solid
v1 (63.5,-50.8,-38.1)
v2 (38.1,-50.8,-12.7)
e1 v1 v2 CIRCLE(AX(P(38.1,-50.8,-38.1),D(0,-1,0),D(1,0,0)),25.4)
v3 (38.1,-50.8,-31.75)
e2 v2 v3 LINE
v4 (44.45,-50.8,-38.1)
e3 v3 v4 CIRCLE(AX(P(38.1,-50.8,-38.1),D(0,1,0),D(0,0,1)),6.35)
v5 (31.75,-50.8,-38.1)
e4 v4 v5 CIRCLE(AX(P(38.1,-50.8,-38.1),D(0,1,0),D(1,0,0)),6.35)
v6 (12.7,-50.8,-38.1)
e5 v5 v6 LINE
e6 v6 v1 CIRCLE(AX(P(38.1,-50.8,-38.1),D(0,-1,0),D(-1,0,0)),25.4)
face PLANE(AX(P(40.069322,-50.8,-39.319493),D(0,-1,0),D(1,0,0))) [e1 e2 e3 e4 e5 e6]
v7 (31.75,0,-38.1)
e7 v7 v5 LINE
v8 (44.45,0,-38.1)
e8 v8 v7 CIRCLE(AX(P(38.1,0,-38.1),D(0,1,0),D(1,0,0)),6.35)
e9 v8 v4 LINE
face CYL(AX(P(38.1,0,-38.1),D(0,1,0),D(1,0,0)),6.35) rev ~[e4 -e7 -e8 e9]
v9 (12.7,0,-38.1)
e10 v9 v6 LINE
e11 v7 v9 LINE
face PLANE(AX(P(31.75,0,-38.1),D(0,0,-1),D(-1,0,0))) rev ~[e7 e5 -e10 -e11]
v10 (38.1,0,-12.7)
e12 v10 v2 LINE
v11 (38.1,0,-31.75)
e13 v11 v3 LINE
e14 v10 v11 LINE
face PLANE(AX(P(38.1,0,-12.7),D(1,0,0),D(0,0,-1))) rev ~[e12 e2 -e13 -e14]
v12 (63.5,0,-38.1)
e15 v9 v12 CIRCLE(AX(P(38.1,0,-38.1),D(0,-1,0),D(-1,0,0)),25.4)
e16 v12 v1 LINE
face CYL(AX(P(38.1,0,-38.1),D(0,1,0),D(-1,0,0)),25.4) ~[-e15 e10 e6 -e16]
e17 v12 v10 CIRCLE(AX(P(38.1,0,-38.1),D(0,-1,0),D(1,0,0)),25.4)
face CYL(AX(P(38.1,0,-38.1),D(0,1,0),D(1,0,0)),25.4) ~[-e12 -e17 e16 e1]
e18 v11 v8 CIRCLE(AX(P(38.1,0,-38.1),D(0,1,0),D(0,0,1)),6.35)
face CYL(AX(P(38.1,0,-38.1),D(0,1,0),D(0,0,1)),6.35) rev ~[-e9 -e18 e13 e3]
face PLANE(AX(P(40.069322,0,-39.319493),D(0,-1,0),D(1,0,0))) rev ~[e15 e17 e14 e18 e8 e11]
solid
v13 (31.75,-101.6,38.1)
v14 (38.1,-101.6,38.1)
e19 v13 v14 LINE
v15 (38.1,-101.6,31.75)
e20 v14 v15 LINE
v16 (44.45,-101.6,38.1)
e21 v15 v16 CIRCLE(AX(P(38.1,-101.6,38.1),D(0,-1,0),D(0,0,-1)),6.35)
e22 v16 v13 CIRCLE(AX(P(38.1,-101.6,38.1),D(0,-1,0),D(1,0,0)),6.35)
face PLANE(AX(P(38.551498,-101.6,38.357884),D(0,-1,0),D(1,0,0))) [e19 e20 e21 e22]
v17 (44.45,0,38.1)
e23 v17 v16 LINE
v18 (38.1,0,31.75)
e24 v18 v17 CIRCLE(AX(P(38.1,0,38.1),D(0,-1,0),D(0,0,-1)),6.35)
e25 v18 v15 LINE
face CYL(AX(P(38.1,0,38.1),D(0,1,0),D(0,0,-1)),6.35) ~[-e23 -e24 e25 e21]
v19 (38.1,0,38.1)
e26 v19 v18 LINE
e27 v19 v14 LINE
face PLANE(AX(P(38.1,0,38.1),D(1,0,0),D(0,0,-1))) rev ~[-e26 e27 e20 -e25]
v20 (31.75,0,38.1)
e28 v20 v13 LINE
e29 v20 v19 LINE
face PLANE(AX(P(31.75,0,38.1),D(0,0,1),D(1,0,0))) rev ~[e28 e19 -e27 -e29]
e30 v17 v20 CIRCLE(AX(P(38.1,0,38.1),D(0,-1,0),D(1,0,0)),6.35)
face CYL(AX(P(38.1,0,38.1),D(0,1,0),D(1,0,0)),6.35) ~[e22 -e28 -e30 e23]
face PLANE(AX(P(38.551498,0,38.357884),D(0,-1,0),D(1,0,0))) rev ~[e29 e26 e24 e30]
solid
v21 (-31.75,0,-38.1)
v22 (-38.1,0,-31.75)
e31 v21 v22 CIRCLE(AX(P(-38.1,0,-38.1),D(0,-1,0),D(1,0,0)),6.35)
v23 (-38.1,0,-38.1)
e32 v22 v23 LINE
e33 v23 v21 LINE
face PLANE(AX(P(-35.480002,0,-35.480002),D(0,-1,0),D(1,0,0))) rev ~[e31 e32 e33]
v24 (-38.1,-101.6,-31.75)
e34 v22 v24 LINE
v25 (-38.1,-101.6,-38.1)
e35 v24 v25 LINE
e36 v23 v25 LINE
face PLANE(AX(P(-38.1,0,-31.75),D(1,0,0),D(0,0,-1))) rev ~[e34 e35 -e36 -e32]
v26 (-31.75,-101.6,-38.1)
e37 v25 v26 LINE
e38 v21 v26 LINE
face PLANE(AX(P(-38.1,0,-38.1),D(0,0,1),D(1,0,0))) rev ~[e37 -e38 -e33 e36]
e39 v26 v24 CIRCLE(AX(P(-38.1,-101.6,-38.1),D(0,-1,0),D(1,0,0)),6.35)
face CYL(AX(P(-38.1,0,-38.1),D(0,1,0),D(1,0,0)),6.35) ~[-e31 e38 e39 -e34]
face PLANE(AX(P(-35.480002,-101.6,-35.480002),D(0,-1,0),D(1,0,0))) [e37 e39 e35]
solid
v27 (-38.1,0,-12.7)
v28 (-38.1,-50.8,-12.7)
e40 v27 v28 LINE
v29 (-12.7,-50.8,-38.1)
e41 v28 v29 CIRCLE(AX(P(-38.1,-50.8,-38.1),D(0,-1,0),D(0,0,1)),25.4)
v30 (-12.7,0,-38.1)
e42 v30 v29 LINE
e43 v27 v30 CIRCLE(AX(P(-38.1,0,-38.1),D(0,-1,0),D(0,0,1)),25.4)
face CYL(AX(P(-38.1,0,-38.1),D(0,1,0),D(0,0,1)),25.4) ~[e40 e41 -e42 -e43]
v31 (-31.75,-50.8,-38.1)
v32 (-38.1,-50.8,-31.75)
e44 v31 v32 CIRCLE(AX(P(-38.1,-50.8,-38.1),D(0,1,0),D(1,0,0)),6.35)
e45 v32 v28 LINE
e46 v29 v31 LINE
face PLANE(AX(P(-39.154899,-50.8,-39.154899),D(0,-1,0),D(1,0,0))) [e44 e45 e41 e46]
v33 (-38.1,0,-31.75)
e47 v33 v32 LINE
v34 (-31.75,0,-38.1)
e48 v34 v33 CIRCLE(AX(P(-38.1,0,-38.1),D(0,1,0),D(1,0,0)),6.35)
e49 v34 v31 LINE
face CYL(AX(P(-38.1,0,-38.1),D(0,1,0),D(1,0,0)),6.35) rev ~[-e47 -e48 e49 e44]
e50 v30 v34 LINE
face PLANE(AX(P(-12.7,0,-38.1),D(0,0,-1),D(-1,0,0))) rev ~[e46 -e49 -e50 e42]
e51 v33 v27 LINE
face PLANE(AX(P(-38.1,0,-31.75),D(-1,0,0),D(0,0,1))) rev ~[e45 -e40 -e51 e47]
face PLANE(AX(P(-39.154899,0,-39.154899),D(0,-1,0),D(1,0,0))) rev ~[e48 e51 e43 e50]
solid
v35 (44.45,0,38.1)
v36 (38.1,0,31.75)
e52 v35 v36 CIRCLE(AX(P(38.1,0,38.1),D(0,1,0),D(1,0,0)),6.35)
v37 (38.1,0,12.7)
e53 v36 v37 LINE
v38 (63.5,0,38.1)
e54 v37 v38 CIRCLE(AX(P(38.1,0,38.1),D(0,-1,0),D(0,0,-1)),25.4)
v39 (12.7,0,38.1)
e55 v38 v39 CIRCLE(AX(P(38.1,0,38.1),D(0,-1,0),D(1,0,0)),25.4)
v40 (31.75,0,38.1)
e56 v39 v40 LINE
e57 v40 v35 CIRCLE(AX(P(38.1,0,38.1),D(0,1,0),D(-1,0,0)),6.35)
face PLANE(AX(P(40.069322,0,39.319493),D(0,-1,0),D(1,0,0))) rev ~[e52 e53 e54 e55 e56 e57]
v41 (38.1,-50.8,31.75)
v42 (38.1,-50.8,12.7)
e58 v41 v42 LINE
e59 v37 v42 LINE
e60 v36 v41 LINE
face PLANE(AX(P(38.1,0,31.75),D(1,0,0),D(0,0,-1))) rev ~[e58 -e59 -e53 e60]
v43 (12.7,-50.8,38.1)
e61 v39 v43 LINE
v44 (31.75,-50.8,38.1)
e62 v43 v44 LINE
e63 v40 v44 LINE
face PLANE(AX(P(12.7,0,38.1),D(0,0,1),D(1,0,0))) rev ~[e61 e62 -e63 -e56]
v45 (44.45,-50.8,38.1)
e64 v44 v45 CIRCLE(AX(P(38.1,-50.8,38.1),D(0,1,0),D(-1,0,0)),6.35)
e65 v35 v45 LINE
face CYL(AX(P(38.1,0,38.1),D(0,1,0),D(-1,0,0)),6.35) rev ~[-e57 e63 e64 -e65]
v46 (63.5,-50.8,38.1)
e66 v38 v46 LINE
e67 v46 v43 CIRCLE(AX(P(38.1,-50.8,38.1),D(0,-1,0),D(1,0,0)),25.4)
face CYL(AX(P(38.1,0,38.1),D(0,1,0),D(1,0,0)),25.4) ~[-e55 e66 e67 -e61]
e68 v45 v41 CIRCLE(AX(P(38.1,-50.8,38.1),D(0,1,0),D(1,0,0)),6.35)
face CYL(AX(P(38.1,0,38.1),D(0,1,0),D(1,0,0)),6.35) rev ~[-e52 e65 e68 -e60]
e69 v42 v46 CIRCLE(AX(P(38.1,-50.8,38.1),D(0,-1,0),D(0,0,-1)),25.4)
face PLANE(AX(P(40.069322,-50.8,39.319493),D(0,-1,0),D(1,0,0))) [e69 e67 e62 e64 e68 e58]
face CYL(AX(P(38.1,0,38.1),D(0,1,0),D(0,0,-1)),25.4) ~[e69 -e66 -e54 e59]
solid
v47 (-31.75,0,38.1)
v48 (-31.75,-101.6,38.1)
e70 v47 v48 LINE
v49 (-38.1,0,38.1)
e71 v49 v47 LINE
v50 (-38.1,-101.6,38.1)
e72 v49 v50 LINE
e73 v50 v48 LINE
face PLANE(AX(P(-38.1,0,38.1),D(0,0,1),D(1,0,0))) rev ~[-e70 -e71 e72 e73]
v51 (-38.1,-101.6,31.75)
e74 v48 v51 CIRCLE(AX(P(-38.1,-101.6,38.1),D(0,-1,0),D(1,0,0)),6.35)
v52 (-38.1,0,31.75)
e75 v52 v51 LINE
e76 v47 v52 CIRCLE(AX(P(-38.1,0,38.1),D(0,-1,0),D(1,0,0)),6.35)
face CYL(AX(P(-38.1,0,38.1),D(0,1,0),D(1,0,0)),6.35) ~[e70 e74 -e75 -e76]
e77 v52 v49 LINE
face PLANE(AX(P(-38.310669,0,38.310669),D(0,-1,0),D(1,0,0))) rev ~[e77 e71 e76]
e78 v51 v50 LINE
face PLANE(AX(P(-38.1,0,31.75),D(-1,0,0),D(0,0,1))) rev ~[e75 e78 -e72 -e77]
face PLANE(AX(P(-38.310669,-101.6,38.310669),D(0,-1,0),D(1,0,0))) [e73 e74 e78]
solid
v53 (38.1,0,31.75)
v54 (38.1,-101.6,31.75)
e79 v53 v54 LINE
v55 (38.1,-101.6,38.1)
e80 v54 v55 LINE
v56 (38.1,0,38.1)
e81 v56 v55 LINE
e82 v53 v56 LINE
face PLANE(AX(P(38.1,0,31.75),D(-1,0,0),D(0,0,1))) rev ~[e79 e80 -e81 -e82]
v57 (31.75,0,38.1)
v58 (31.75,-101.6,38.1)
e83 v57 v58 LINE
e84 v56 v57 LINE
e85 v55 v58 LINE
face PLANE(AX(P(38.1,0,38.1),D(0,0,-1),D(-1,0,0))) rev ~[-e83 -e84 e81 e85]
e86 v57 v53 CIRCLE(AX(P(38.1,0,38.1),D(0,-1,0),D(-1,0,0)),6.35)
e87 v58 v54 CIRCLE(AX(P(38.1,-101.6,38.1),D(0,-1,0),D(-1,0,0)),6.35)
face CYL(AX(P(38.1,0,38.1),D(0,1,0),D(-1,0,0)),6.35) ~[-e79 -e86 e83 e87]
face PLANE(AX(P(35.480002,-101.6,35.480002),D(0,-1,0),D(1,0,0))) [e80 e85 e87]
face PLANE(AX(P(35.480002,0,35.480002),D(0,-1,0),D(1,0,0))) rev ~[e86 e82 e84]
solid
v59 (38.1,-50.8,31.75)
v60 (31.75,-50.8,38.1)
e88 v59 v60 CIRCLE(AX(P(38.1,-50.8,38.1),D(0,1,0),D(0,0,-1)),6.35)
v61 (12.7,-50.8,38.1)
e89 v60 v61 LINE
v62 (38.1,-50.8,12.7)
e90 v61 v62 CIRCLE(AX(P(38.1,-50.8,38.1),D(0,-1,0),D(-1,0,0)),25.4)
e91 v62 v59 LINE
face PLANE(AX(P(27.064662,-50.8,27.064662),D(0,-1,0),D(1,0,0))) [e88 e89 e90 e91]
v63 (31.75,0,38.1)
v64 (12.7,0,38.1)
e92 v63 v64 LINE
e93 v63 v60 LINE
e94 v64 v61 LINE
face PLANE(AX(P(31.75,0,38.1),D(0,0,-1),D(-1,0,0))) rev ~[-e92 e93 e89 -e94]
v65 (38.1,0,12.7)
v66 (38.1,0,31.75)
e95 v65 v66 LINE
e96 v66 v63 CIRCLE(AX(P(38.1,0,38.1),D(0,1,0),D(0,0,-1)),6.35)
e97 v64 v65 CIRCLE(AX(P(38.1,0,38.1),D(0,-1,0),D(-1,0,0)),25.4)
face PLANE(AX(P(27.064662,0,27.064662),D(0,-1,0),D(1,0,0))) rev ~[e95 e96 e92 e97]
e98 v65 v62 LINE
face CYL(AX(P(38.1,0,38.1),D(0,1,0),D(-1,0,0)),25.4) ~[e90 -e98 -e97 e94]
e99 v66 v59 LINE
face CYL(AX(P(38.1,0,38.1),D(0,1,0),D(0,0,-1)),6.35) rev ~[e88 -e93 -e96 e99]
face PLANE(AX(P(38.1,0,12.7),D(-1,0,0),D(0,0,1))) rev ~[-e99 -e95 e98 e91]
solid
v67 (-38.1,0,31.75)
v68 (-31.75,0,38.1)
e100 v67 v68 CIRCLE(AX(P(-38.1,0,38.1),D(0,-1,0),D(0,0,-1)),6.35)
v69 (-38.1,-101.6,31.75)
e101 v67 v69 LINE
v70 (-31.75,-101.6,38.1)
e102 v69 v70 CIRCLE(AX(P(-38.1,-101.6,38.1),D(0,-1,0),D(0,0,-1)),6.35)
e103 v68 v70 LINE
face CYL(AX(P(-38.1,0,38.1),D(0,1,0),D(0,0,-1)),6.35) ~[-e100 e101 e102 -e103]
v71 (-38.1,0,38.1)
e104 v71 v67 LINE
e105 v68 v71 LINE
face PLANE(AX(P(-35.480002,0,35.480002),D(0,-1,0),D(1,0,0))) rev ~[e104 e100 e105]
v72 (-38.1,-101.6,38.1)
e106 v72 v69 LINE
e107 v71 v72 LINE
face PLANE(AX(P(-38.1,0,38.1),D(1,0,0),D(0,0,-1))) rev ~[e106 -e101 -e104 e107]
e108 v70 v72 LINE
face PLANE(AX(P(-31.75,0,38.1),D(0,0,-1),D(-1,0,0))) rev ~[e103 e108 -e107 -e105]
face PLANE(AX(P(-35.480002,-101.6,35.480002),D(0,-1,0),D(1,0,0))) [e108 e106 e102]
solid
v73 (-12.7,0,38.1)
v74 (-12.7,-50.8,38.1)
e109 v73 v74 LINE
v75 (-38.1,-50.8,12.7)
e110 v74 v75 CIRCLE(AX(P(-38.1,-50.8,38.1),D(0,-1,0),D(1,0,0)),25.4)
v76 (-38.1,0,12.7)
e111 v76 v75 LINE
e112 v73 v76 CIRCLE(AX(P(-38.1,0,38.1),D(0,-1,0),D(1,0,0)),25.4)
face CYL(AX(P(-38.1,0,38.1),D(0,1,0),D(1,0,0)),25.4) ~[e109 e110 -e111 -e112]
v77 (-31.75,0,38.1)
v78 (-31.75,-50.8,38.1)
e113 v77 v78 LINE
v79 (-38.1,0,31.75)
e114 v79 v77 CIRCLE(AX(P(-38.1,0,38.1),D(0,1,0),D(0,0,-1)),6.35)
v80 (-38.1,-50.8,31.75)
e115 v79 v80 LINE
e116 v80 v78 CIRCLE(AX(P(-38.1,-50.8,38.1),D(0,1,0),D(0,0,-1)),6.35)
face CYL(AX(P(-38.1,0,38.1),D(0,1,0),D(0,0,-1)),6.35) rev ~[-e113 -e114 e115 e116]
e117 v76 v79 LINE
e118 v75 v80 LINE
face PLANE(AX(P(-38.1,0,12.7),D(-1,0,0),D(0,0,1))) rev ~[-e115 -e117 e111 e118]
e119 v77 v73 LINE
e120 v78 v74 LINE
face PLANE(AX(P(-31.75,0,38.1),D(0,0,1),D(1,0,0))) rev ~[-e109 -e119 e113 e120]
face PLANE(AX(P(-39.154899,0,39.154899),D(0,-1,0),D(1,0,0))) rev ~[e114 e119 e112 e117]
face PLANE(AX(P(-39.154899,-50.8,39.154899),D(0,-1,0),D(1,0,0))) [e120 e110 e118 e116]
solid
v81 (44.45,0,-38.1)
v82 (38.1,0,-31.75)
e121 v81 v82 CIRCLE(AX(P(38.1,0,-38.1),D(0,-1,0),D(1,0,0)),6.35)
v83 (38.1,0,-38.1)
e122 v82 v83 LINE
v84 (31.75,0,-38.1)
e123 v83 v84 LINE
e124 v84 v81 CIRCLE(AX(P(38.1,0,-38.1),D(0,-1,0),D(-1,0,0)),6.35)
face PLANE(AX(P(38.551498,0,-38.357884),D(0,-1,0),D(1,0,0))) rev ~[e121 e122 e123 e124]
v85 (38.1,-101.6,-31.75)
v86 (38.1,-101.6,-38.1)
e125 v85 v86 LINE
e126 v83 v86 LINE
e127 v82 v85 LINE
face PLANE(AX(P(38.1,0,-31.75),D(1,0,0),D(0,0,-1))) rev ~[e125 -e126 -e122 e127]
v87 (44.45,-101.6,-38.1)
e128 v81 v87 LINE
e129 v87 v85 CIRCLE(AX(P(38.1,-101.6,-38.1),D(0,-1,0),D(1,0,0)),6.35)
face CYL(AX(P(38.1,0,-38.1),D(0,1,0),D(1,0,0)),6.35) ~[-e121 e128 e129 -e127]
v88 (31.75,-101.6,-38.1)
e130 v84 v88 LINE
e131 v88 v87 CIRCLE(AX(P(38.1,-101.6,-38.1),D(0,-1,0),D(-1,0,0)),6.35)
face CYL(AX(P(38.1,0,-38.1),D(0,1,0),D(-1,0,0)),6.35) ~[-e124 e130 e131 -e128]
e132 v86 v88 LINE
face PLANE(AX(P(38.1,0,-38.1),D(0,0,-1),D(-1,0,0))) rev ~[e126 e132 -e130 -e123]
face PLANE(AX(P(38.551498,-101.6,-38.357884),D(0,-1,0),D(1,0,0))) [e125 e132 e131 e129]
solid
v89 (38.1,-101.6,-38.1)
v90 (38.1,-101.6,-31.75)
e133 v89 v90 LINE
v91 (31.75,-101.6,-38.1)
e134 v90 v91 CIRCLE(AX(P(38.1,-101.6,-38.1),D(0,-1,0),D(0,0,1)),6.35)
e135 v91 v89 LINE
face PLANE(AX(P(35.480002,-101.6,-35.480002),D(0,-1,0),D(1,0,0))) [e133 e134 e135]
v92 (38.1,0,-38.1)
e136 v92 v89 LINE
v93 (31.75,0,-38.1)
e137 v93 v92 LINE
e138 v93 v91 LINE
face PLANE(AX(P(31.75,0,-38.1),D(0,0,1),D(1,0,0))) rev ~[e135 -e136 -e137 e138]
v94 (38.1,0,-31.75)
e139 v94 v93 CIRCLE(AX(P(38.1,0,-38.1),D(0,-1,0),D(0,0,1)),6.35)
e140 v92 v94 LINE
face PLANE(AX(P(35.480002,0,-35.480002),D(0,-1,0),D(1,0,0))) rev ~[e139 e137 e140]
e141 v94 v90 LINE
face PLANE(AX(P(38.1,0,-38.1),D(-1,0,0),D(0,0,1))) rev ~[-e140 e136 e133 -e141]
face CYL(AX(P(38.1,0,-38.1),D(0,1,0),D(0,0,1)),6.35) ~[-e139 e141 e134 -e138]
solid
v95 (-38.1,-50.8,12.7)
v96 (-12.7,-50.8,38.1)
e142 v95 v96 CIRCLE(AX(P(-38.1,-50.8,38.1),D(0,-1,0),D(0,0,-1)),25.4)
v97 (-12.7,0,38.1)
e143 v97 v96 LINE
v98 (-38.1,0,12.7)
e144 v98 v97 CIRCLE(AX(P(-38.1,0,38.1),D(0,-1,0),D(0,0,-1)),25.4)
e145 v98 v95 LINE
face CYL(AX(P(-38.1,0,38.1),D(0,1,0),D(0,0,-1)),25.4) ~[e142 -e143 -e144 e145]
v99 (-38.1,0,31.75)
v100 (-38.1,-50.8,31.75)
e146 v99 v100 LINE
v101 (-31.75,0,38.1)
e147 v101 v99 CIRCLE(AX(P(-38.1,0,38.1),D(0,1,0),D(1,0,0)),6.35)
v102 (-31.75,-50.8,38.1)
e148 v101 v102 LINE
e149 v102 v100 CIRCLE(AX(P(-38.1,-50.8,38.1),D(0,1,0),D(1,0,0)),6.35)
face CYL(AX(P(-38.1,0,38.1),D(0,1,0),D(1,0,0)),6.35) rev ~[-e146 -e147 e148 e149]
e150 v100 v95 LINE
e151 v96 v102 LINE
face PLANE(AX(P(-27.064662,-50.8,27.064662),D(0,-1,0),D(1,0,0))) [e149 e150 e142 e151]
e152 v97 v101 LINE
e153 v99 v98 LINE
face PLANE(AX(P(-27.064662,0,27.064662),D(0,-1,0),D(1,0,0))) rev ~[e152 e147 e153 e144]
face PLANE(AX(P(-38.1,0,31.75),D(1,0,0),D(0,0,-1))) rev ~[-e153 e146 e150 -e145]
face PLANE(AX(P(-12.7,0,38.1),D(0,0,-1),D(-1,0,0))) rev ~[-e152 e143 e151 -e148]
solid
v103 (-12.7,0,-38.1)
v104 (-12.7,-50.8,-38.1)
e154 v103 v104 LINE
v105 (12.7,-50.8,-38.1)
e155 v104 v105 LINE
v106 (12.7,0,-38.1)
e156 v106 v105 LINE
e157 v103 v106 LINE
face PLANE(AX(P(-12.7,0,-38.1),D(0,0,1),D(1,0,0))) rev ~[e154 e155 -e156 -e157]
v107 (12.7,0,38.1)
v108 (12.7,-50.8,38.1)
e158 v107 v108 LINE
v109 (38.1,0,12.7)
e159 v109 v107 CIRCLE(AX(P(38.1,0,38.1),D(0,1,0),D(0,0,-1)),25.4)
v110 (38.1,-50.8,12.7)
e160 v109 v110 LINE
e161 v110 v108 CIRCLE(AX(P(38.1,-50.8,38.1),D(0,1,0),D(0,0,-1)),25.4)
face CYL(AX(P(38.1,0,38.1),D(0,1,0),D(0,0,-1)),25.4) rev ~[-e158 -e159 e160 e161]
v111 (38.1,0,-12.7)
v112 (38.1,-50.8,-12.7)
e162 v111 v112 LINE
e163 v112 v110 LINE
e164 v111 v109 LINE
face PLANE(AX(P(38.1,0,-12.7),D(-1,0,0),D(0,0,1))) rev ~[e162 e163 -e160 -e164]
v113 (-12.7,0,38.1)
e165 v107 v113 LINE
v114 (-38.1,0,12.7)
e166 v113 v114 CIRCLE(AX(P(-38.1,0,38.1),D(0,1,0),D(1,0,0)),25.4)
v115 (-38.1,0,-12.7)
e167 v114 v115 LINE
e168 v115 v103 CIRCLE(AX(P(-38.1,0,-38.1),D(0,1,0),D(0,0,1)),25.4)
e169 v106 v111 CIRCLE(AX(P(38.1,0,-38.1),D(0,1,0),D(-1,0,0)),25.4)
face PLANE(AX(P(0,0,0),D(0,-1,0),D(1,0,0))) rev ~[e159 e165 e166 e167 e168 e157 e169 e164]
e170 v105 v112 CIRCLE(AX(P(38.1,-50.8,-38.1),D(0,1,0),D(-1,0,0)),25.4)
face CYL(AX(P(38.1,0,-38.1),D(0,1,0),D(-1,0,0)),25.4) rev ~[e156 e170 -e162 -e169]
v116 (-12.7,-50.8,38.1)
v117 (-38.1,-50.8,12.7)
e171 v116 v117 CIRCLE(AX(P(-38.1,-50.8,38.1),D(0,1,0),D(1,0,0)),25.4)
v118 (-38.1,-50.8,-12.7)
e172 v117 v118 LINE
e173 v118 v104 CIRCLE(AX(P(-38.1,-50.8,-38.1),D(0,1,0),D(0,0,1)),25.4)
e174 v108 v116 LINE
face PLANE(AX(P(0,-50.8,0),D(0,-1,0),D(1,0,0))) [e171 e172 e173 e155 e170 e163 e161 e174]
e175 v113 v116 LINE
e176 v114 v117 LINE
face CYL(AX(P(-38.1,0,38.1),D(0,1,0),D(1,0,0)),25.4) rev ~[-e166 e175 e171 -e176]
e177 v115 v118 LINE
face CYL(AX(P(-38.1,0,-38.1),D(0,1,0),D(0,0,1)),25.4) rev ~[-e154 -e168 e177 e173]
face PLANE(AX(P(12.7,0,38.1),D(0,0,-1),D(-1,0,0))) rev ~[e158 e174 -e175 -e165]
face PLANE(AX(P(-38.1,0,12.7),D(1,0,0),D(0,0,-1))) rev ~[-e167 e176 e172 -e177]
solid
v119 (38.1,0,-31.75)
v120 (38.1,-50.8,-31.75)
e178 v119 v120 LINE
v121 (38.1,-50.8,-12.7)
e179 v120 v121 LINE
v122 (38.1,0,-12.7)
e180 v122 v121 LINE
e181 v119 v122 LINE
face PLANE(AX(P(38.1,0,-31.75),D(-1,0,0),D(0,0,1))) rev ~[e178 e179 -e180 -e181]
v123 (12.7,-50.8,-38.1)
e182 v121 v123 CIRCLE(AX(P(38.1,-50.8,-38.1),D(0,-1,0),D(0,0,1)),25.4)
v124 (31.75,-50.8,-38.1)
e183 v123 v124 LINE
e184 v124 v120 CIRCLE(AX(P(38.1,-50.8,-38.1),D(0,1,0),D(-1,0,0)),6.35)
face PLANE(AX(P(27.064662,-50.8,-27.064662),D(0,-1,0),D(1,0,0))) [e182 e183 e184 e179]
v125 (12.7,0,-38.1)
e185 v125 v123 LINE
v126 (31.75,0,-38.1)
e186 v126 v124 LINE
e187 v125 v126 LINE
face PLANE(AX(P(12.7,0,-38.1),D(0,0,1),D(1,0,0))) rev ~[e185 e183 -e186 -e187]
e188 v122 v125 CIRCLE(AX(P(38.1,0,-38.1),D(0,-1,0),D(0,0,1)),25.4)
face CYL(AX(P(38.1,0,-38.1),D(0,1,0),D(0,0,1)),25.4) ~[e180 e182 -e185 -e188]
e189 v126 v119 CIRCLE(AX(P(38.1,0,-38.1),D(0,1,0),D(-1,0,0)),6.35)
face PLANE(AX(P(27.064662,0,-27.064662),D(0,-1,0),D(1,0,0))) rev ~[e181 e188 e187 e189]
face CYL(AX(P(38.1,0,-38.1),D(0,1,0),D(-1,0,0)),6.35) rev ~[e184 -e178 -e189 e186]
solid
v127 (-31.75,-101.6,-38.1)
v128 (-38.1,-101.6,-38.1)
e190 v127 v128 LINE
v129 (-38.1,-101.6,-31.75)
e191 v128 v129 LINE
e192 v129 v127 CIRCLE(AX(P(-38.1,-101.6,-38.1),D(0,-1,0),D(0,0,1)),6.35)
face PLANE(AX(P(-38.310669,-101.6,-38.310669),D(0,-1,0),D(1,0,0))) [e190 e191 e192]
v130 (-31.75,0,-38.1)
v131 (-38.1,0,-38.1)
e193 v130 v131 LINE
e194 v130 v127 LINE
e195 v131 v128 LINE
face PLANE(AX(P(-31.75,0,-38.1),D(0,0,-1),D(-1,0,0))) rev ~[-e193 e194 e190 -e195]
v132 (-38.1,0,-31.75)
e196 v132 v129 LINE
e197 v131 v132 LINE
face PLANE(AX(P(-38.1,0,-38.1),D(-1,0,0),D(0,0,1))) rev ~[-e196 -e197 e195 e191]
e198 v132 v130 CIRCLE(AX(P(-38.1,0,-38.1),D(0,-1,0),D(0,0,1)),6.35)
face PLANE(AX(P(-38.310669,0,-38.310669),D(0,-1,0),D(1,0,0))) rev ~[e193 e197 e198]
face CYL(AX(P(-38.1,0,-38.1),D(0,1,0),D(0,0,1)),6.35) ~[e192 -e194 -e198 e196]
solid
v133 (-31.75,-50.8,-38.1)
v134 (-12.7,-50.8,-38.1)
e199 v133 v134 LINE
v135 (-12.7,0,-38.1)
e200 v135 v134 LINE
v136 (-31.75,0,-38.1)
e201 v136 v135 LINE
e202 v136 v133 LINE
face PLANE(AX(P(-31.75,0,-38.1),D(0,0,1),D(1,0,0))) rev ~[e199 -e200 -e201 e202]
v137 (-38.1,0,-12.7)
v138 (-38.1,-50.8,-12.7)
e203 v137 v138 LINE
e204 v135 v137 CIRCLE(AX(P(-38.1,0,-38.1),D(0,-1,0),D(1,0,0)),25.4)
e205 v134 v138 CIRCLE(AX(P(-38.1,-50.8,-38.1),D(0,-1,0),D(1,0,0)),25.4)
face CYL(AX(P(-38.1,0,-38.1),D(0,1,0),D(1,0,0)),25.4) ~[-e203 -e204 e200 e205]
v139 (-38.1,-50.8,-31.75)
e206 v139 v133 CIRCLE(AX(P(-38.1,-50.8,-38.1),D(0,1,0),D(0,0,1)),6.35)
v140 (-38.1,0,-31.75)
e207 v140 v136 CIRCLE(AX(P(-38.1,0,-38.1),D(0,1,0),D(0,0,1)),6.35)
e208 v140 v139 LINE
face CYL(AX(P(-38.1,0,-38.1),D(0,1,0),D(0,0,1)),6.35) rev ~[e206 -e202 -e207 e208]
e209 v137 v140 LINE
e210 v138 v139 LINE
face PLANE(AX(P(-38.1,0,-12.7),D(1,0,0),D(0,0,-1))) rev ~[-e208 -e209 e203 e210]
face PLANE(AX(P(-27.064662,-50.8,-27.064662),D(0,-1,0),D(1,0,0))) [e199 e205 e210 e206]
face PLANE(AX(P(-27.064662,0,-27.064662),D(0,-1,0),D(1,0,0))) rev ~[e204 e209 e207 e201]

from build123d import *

# Parameters (mm, degrees)
F1_DEPTH = 50.8
F2_DEPTH = 101.6
F3_DEPTH = 50.8
F4_DEPTH = 101.6


with BuildPart() as f1:
    # F0 (on Front) → F1 (new body)
    with BuildSketch(Plane.XZ):
        with BuildLine():
            Line((12.7, 38.1), (-12.7, 38.1))
            ThreePointArc((-12.7, 38.1), (-20.1394877579, 20.1394877579), (-38.1, 12.7))
            Line((-38.1, 12.7), (-38.1, -12.7))
            ThreePointArc((-38.1, -12.7), (-20.1394877579, -20.1394877579), (-12.7, -38.1))
            Line((-12.7, -38.1), (12.7, -38.1))
            ThreePointArc((12.7, -38.1), (20.1394877579, -20.1394877579), (38.1, -12.7))
            Line((38.1, -12.7), (38.1, 12.7))
            ThreePointArc((38.1, 12.7), (20.1394877579, 20.1394877579), (12.7, 38.1))
        make_face()
    extrude(amount=F1_DEPTH)


with BuildPart() as f1b:
    # F0 (on Front) → F1, piece 2 (new body)
    with BuildSketch(Plane.XZ):
        with BuildLine():
            Line((-31.75, 38.1), (-12.7, 38.1))
            ThreePointArc((-12.7, 38.1), (-56.0605122421, 56.0605122421), (-38.1, 12.7))
            Line((-38.1, 12.7), (-38.1, 31.75))
            ThreePointArc((-38.1, 31.75), (-42.5901280605, 42.5901280605), (-31.75, 38.1))
        make_face()
    extrude(amount=F1_DEPTH)


with BuildPart() as f1c:
    # F0 (on Front) → F1, piece 3 (new body)
    with BuildSketch(Plane.XZ):
        with BuildLine():
            ThreePointArc((63.5, 38.1), (38.1, 63.5), (12.7, 38.1))
            Line((12.7, 38.1), (31.75, 38.1))
            ThreePointArc((31.75, 38.1), (38.1, 44.45), (44.45, 38.1))
            ThreePointArc((44.45, 38.1), (42.5901280605, 33.6098719395), (38.1, 31.75))
            Line((38.1, 31.75), (38.1, 12.7))
            ThreePointArc((38.1, 12.7), (56.0605122421, 20.1394877579), (63.5, 38.1))
        make_face()
    extrude(amount=F1_DEPTH)


with BuildPart() as f1d:
    # F0 (on Front) → F1, piece 4 (new body)
    with BuildSketch(Plane.XZ):
        with BuildLine():
            ThreePointArc((63.5, -38.1), (56.0605122421, -20.1394877579), (38.1, -12.7))
            Line((38.1, -12.7), (38.1, -31.75))
            ThreePointArc((38.1, -31.75), (42.5901280605, -33.6098719395), (44.45, -38.1))
            ThreePointArc((44.45, -38.1), (38.1, -44.45), (31.75, -38.1))
            Line((31.75, -38.1), (12.7, -38.1))
            ThreePointArc((12.7, -38.1), (38.1, -63.5), (63.5, -38.1))
        make_face()
    extrude(amount=F1_DEPTH)


with BuildPart() as f1e:
    # F0 (on Front) → F1, piece 5 (new body)
    with BuildSketch(Plane.XZ):
        with BuildLine():
            Line((-38.1, -31.75), (-38.1, -12.7))
            ThreePointArc((-38.1, -12.7), (-56.0605122421, -56.0605122421), (-12.7, -38.1))
            Line((-12.7, -38.1), (-31.75, -38.1))
            ThreePointArc((-31.75, -38.1), (-42.5901280605, -42.5901280605), (-38.1, -31.75))
        make_face()
    extrude(amount=F1_DEPTH)


with BuildPart() as f2:
    # F0 (on Front) → F2 (new body)
    with BuildSketch(Plane.XZ):
        with BuildLine():
            Line((-38.1, 38.1), (-31.75, 38.1))
            ThreePointArc((-31.75, 38.1), (-42.5901280605, 42.5901280605), (-38.1, 31.75))
            Line((-38.1, 31.75), (-38.1, 38.1))
        make_face()
    extrude(amount=F2_DEPTH)


with BuildPart() as f2b:
    # F0 (on Front) → F2, piece 2 (new body)
    with BuildSketch(Plane.XZ):
        with BuildLine():
            ThreePointArc((44.45, 38.1), (38.1, 44.45), (31.75, 38.1))
            Line((31.75, 38.1), (38.1, 38.1))
            Line((38.1, 38.1), (38.1, 31.75))
            ThreePointArc((38.1, 31.75), (42.5901280605, 33.6098719395), (44.45, 38.1))
        make_face()
    extrude(amount=F2_DEPTH)


with BuildPart() as f2c:
    # F0 (on Front) → F2, piece 3 (new body)
    with BuildSketch(Plane.XZ):
        with BuildLine():
            ThreePointArc((44.45, -38.1), (42.5901280605, -33.6098719395), (38.1, -31.75))
            Line((38.1, -31.75), (38.1, -38.1))
            Line((38.1, -38.1), (31.75, -38.1))
            ThreePointArc((31.75, -38.1), (38.1, -44.45), (44.45, -38.1))
        make_face()
    extrude(amount=F2_DEPTH)


with BuildPart() as f2d:
    # F0 (on Front) → F2, piece 4 (new body)
    with BuildSketch(Plane.XZ):
        with BuildLine():
            Line((-38.1, -38.1), (-38.1, -31.75))
            ThreePointArc((-38.1, -31.75), (-42.5901280605, -42.5901280605), (-31.75, -38.1))
            Line((-31.75, -38.1), (-38.1, -38.1))
        make_face()
    extrude(amount=F2_DEPTH)


with BuildPart() as f3:
    # F0 (on Front) → F3 (new body)
    with BuildSketch(Plane.XZ):
        with BuildLine():
            ThreePointArc((-12.7, -38.1), (-20.1394877579, -20.1394877579), (-38.1, -12.7))
            Line((-38.1, -12.7), (-38.1, -31.75))
            ThreePointArc((-38.1, -31.75), (-33.6098719395, -33.6098719395), (-31.75, -38.1))
            Line((-31.75, -38.1), (-12.7, -38.1))
        make_face()
    extrude(amount=F3_DEPTH)


with BuildPart() as f3b:
    # F0 (on Front) → F3, piece 2 (new body)
    with BuildSketch(Plane.XZ):
        with BuildLine():
            Line((38.1, -31.75), (38.1, -12.7))
            ThreePointArc((38.1, -12.7), (20.1394877579, -20.1394877579), (12.7, -38.1))
            Line((12.7, -38.1), (31.75, -38.1))
            ThreePointArc((31.75, -38.1), (33.6098719395, -33.6098719395), (38.1, -31.75))
        make_face()
    extrude(amount=F3_DEPTH)


with BuildPart() as f3c:
    # F0 (on Front) → F3, piece 3 (new body)
    with BuildSketch(Plane.XZ):
        with BuildLine():
            Line((31.75, 38.1), (12.7, 38.1))
            ThreePointArc((12.7, 38.1), (20.1394877579, 20.1394877579), (38.1, 12.7))
            Line((38.1, 12.7), (38.1, 31.75))
            ThreePointArc((38.1, 31.75), (33.6098719395, 33.6098719395), (31.75, 38.1))
        make_face()
    extrude(amount=F3_DEPTH)


with BuildPart() as f3d:
    # F0 (on Front) → F3, piece 4 (new body)
    with BuildSketch(Plane.XZ):
        with BuildLine():
            ThreePointArc((-38.1, 12.7), (-20.1394877579, 20.1394877579), (-12.7, 38.1))
            Line((-12.7, 38.1), (-31.75, 38.1))
            ThreePointArc((-31.75, 38.1), (-33.6098719395, 33.6098719395), (-38.1, 31.75))
            Line((-38.1, 31.75), (-38.1, 12.7))
        make_face()
    extrude(amount=F3_DEPTH)


with BuildPart() as f4:
    # F0 (on Front) → F4 (new body)
    with BuildSketch(Plane.XZ):
        with BuildLine():
            ThreePointArc((-38.1, 31.75), (-33.6098719395, 33.6098719395), (-31.75, 38.1))
            Line((-31.75, 38.1), (-38.1, 38.1))
            Line((-38.1, 38.1), (-38.1, 31.75))
        make_face()
    extrude(amount=F4_DEPTH)


with BuildPart() as f4b:
    # F0 (on Front) → F4, piece 2 (new body)
    with BuildSketch(Plane.XZ):
        with BuildLine():
            ThreePointArc((-31.75, -38.1), (-33.6098719395, -33.6098719395), (-38.1, -31.75))
            Line((-38.1, -31.75), (-38.1, -38.1))
            Line((-38.1, -38.1), (-31.75, -38.1))
        make_face()
    extrude(amount=F4_DEPTH)


with BuildPart() as f4c:
    # F0 (on Front) → F4, piece 3 (new body)
    with BuildSketch(Plane.XZ):
        with BuildLine():
            Line((38.1, -38.1), (38.1, -31.75))
            ThreePointArc((38.1, -31.75), (33.6098719395, -33.6098719395), (31.75, -38.1))
            Line((31.75, -38.1), (38.1, -38.1))
        make_face()
    extrude(amount=F4_DEPTH)


with BuildPart() as f4d:
    # F0 (on Front) → F4, piece 4 (new body)
    with BuildSketch(Plane.XZ):
        with BuildLine():
            Line((38.1, 38.1), (31.75, 38.1))
            ThreePointArc((31.75, 38.1), (33.6098719395, 33.6098719395), (38.1, 31.75))
            Line((38.1, 31.75), (38.1, 38.1))
        make_face()
    extrude(amount=F4_DEPTH)


solid = Compound([f1.part, f1b.part, f1c.part, f1d.part, f1e.part, f2.part, f2b.part, f2c.part, f2d.part, f3.part, f3b.part, f3c.part, f3d.part, f4.part, f4b.part, f4c.part, f4d.part])
